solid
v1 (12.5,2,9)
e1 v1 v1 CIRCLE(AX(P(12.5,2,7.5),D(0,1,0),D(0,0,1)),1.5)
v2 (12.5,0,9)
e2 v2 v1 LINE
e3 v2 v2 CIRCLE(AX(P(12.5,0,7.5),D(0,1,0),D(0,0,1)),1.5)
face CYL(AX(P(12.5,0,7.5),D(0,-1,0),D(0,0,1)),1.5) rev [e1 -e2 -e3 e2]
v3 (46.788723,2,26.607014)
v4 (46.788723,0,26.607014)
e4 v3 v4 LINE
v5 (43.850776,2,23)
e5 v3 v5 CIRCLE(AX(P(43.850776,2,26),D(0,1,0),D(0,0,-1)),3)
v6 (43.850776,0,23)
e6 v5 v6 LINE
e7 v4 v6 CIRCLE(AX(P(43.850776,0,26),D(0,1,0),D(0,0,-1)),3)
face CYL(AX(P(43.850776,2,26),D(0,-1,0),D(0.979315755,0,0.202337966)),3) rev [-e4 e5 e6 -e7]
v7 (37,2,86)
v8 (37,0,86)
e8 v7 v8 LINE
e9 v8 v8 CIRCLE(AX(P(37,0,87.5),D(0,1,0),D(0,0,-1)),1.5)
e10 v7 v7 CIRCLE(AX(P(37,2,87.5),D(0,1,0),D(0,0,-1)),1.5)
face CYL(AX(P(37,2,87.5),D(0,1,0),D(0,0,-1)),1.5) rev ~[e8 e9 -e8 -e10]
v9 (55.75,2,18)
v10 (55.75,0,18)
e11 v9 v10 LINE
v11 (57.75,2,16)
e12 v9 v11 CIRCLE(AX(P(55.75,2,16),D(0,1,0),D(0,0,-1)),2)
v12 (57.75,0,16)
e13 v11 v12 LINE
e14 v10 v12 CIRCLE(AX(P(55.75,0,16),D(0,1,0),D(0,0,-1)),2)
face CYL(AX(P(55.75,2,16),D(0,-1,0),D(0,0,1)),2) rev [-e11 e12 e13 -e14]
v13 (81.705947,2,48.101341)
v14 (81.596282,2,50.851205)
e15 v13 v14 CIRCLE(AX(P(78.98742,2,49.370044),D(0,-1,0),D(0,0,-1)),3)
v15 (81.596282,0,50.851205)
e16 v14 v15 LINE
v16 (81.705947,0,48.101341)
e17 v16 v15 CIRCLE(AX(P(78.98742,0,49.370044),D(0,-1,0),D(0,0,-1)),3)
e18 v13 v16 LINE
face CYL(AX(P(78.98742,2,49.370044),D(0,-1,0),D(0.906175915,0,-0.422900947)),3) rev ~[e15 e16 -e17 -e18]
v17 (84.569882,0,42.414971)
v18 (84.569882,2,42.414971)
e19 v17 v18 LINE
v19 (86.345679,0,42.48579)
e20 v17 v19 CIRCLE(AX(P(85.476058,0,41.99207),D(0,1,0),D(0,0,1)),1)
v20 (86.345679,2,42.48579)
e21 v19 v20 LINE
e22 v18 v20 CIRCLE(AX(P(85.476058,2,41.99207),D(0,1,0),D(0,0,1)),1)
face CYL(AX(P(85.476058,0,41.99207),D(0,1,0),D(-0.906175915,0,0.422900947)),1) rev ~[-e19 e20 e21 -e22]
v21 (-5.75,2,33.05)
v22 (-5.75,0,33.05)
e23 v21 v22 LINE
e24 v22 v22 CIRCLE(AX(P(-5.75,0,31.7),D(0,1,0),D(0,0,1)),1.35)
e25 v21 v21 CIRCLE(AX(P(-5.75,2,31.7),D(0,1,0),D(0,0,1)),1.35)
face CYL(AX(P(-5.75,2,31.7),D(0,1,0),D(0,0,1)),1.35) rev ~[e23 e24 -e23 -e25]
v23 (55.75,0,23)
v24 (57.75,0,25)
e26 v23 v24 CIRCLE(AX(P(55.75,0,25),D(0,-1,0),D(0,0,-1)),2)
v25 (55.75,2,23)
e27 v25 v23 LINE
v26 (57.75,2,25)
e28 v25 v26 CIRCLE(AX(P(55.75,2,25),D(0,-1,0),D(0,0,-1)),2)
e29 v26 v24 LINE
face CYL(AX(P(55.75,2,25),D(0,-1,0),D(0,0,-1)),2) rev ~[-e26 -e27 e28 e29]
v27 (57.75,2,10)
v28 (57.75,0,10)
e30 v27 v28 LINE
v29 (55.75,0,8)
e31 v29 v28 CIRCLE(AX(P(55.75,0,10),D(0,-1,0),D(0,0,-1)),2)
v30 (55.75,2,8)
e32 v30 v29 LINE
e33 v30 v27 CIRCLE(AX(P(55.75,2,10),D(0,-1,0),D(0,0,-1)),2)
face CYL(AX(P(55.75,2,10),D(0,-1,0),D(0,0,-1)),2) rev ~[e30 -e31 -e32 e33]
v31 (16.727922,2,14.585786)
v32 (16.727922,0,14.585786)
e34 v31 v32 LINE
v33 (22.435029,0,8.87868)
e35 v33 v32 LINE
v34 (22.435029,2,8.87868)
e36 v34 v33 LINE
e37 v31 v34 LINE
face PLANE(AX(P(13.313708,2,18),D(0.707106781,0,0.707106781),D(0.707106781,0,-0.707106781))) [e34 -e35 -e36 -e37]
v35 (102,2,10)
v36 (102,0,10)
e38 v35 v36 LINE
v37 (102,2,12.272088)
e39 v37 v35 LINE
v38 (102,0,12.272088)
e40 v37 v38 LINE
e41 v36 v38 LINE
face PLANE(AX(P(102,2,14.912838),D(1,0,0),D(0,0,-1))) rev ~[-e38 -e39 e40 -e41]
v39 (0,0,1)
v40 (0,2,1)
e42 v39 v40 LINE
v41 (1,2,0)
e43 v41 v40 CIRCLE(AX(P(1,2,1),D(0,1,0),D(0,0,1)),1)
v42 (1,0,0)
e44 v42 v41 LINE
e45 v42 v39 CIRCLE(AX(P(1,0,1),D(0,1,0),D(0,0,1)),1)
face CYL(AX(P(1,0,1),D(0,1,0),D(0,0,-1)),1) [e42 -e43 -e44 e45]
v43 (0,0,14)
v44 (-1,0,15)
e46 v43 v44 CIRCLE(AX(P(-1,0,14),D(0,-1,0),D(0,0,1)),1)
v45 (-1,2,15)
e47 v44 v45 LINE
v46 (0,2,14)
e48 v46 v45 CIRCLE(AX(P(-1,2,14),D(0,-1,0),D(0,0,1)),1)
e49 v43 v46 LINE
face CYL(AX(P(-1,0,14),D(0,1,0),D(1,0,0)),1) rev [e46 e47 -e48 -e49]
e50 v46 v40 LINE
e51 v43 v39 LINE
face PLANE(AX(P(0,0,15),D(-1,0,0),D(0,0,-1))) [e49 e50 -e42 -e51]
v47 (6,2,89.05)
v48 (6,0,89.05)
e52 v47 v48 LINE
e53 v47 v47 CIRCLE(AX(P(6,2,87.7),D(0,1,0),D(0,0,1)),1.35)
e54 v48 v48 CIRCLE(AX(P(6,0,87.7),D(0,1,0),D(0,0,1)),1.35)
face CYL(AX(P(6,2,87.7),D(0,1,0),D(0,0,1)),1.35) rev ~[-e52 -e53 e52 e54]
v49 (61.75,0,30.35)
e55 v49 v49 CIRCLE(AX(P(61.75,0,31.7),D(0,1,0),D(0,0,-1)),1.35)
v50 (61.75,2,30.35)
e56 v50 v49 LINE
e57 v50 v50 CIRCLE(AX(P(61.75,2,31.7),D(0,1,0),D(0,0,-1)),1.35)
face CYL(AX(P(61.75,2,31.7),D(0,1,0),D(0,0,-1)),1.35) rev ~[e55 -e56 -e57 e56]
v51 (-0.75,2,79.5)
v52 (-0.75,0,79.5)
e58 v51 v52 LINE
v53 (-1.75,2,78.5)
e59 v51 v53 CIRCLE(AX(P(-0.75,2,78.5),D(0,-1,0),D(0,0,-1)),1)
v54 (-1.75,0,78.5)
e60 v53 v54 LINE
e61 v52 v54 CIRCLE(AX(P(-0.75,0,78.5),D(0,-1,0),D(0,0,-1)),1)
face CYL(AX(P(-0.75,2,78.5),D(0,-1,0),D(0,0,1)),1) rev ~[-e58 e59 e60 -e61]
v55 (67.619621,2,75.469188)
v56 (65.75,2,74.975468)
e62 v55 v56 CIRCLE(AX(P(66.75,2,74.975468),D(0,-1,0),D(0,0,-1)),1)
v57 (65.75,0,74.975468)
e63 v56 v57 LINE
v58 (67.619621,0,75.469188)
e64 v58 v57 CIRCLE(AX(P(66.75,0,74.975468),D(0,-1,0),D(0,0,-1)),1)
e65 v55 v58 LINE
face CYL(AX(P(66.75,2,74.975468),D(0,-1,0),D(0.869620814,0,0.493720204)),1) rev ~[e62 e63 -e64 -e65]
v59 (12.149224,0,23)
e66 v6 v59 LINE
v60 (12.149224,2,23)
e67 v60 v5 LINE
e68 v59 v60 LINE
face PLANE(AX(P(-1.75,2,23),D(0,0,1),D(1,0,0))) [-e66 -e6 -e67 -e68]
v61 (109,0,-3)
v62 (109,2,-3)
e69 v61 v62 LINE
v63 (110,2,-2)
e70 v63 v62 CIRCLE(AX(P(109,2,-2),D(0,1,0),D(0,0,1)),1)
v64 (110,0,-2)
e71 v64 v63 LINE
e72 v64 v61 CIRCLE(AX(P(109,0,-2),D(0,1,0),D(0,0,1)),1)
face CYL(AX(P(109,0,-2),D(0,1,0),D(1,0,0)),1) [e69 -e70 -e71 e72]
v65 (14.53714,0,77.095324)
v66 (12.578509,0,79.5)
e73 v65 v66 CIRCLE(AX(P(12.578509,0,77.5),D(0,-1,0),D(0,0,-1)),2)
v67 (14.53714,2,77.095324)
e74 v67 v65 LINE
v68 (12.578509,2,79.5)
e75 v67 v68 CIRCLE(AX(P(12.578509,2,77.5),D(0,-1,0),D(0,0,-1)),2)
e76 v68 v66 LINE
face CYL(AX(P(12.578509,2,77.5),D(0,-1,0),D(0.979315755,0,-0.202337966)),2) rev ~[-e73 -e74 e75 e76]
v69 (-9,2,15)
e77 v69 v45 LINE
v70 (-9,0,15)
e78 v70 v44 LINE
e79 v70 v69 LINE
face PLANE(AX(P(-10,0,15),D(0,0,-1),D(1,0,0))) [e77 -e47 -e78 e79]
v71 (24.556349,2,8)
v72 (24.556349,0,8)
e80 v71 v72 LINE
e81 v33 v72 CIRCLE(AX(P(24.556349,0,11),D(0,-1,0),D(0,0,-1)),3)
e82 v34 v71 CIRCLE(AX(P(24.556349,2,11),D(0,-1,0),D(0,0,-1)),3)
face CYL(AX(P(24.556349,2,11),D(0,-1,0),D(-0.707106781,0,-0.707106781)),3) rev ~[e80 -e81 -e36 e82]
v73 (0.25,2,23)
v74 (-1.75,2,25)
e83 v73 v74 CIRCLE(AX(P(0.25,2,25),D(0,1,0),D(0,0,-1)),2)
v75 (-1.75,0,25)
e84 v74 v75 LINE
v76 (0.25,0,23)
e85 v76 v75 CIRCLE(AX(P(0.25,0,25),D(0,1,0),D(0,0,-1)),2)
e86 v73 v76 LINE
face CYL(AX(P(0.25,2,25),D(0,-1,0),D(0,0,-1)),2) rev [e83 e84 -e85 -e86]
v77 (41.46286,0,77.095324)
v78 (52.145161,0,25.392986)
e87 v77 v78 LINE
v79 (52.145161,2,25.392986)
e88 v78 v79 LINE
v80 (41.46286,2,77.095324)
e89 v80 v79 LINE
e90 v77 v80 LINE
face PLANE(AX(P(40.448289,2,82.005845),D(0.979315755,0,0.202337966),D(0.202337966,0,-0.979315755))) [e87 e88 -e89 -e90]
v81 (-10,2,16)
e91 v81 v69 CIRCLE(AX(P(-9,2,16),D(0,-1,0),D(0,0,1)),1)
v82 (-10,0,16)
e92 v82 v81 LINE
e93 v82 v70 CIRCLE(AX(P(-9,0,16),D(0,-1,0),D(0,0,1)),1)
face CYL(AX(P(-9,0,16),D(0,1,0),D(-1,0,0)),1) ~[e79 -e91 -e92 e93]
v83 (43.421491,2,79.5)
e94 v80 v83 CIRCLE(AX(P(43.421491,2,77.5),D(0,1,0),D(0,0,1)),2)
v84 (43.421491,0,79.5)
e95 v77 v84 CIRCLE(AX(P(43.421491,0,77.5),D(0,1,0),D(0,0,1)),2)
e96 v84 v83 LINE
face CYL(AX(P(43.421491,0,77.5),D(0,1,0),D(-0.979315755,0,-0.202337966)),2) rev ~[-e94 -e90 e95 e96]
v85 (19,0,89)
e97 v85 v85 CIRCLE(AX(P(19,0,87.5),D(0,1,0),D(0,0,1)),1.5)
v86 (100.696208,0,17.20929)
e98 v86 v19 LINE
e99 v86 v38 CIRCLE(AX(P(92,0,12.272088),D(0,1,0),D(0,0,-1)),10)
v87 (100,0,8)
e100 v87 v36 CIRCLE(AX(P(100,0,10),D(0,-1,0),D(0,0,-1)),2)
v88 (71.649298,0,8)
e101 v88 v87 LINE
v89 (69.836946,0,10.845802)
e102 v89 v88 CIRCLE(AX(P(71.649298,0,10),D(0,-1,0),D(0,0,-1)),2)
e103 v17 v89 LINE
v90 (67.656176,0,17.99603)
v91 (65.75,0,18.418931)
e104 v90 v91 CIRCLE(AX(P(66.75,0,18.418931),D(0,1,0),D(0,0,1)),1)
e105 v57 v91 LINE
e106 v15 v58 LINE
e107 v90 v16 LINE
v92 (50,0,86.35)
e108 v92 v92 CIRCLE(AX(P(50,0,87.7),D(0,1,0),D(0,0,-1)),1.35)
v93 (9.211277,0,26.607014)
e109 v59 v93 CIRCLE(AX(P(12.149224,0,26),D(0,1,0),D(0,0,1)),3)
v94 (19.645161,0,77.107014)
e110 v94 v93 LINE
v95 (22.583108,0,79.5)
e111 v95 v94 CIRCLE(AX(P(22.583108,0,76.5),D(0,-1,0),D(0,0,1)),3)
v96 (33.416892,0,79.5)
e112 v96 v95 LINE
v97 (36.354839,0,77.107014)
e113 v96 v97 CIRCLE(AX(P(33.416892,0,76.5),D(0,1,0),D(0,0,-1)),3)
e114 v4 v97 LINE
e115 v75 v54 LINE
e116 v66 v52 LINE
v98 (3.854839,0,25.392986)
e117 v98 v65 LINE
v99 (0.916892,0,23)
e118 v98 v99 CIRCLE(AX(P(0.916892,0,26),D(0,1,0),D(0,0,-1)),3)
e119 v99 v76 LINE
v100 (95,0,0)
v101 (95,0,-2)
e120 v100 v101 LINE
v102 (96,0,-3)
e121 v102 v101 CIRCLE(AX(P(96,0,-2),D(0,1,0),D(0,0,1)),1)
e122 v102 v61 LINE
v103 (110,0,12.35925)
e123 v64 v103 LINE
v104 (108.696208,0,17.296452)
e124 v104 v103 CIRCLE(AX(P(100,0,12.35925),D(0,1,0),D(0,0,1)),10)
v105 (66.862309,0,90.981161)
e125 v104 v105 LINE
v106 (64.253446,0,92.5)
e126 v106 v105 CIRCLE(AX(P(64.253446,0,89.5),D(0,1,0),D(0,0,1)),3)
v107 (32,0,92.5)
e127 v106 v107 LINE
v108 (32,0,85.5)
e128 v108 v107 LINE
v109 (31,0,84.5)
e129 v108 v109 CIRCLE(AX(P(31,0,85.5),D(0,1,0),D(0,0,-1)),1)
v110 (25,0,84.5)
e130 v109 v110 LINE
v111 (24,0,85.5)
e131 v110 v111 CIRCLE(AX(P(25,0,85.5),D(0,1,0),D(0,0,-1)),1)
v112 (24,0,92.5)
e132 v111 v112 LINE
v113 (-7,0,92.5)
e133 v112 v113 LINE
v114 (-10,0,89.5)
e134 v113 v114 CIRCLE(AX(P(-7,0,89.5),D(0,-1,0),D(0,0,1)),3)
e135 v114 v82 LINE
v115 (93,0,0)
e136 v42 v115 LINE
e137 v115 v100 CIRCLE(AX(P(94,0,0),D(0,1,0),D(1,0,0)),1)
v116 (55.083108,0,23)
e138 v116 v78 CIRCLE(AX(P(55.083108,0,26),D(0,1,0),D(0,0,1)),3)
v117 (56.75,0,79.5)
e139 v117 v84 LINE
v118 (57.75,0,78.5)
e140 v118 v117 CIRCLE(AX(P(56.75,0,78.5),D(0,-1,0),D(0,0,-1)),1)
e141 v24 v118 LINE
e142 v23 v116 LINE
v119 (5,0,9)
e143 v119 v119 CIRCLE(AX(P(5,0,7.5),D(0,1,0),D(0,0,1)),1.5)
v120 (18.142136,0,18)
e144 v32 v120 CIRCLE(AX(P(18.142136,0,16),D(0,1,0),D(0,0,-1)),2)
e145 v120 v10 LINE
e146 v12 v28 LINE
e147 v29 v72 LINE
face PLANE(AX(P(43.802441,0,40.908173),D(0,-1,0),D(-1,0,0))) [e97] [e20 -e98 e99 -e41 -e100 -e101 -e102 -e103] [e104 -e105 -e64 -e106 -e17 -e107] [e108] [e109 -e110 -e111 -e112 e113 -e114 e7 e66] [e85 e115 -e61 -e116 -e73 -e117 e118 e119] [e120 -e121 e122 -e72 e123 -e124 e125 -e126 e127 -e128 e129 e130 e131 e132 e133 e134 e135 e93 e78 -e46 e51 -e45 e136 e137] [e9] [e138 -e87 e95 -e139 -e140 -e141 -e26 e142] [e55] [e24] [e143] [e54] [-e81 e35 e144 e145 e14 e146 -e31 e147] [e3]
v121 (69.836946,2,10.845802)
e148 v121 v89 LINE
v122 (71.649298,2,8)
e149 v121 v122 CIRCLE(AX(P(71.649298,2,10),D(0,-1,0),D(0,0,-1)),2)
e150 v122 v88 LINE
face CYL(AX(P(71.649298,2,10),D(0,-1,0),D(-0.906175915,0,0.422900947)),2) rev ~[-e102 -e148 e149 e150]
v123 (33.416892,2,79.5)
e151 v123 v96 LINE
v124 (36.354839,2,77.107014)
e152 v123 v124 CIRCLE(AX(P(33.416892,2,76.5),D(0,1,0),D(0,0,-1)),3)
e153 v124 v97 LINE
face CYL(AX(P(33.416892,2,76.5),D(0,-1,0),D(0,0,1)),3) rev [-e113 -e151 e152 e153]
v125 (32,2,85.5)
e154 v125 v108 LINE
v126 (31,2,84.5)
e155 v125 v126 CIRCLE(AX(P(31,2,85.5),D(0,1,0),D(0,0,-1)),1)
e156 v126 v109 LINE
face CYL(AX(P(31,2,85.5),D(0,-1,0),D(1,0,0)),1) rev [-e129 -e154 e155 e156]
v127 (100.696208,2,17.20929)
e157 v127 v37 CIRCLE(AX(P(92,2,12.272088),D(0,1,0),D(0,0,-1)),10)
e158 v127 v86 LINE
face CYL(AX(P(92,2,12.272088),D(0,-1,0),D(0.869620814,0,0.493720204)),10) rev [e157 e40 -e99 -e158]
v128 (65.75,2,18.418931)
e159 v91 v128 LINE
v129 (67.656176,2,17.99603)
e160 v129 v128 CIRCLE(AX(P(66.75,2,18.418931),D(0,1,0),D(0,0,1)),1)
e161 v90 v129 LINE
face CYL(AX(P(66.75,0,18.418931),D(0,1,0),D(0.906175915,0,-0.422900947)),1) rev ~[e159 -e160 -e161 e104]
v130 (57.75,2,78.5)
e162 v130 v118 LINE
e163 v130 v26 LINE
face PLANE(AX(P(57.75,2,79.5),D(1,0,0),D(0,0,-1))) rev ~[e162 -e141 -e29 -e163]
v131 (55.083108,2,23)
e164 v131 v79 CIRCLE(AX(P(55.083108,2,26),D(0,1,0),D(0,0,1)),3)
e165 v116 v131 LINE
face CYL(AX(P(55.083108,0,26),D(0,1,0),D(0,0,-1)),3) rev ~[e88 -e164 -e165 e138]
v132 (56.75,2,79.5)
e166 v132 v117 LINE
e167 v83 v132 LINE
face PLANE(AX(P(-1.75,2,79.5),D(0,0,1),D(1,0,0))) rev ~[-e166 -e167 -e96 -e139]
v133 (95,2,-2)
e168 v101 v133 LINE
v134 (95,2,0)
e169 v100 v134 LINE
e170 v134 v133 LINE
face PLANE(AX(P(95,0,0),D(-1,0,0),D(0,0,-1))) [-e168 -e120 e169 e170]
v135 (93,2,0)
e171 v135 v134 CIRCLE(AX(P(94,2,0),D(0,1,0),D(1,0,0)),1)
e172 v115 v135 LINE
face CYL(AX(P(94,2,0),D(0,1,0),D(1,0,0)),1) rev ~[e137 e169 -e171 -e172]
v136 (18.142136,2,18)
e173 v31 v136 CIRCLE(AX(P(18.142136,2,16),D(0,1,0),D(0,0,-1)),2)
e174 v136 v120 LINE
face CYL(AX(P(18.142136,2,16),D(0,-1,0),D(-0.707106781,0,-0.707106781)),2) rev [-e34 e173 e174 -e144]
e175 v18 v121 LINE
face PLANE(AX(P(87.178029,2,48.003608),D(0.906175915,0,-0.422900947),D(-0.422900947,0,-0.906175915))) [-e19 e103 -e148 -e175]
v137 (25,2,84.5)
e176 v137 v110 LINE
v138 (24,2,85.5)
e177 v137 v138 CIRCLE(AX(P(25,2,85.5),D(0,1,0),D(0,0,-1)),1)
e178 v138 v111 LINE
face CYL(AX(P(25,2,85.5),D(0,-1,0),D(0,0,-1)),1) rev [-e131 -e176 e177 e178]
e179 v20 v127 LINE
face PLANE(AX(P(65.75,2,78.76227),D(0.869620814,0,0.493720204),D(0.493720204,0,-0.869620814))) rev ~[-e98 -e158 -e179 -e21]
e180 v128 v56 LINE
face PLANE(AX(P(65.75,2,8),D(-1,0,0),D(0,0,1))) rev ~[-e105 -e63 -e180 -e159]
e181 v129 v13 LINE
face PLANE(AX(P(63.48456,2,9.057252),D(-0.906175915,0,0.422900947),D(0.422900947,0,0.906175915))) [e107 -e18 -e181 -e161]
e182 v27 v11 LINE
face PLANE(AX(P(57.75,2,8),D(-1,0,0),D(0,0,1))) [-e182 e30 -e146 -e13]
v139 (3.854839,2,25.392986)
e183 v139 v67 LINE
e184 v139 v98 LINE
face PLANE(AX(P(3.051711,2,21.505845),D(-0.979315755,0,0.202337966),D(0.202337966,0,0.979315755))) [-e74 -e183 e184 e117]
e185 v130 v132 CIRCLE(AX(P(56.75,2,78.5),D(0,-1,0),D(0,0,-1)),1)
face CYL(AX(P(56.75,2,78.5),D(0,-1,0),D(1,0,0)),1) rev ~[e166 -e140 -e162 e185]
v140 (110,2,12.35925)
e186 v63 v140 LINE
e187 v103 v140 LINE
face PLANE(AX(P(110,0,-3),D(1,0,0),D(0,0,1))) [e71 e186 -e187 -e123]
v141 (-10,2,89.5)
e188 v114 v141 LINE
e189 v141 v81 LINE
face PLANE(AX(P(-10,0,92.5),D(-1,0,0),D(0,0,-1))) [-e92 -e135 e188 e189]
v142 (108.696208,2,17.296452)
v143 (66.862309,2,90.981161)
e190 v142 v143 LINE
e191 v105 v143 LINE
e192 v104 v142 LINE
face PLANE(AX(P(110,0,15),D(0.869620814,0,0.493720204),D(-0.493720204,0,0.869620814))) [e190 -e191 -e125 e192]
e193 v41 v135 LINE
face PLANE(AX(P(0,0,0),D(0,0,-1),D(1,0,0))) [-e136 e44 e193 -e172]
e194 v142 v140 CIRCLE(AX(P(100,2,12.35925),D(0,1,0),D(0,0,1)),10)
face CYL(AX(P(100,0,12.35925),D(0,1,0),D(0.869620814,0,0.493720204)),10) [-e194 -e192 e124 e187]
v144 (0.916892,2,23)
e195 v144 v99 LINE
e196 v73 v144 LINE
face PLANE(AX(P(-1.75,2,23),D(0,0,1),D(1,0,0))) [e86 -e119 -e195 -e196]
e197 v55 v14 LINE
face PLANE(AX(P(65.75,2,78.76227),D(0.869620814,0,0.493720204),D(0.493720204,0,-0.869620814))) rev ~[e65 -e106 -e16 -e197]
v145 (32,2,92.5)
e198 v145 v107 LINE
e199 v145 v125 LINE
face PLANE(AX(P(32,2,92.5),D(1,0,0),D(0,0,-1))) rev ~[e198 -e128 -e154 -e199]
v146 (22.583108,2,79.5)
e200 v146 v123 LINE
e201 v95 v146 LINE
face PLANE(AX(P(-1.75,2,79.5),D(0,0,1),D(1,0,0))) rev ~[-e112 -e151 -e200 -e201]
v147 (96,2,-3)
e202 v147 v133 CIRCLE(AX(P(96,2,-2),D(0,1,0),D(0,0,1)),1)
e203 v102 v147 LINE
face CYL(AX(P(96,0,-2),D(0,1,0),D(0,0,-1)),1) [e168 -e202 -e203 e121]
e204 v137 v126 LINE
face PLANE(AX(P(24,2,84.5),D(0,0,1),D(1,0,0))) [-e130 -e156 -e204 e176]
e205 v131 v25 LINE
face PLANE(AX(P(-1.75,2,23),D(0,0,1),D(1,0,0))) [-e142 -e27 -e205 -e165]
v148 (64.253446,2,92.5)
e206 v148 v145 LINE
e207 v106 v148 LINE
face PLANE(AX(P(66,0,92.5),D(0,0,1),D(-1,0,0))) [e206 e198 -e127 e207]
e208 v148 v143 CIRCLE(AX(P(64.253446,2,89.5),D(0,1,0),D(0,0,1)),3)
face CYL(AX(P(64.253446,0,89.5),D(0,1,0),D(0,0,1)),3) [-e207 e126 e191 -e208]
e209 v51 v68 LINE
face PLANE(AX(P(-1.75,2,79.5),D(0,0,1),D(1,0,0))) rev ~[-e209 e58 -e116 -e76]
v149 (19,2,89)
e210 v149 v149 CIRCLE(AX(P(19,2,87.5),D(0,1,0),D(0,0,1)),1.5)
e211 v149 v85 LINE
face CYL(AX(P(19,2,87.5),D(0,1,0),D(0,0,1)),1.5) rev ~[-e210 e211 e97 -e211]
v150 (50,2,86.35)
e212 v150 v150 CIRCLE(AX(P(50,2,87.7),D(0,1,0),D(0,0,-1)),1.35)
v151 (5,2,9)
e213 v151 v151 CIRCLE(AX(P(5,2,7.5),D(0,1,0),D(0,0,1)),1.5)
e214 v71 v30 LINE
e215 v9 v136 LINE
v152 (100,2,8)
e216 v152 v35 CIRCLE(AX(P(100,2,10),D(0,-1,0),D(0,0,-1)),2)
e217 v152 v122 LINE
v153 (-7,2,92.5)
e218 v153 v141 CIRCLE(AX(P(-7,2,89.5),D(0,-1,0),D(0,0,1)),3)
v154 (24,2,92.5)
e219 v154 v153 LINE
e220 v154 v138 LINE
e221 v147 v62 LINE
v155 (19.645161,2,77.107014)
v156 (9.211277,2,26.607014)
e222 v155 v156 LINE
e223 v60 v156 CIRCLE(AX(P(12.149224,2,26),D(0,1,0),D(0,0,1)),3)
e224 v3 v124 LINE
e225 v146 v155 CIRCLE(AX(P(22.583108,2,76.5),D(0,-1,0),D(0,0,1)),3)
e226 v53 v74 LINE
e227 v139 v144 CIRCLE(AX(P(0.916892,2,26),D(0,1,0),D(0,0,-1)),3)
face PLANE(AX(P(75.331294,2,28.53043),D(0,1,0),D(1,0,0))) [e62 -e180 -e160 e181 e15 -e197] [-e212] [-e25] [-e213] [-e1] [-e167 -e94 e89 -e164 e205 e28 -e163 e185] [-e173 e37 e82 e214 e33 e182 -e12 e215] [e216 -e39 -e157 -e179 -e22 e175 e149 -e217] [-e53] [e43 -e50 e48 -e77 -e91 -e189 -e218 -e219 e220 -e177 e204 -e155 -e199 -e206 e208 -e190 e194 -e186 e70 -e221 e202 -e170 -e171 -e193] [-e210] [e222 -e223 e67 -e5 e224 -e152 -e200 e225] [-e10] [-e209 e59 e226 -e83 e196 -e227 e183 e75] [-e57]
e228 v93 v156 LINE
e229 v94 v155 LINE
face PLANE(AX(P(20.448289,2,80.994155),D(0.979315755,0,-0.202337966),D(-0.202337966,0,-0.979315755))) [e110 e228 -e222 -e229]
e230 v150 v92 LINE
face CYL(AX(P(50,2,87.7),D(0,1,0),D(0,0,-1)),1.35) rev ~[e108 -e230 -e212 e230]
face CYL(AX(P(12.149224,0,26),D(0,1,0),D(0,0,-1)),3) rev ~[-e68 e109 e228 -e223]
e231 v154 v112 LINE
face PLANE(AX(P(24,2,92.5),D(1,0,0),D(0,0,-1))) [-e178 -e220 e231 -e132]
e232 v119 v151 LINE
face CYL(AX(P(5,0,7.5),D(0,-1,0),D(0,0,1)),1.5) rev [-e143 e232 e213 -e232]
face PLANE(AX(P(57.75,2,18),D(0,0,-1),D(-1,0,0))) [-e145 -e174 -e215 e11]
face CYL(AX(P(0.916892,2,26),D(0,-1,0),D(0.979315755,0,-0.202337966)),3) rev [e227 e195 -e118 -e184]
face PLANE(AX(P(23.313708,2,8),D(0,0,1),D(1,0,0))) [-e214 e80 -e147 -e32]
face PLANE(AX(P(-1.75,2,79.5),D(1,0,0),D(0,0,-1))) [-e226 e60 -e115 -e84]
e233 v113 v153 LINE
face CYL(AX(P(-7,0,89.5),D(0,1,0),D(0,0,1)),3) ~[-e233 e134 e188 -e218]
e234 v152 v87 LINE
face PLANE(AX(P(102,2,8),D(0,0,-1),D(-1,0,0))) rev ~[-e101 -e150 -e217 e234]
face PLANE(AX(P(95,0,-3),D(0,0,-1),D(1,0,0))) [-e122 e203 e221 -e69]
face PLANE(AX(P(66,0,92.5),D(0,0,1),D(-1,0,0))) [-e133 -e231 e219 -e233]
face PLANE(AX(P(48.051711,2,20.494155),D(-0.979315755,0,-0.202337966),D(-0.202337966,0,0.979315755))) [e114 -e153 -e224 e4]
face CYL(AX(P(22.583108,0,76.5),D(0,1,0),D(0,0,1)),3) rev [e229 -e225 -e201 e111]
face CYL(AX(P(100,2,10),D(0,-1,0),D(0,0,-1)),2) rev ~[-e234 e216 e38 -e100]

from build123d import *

# Parameters (mm, degrees)
SKETCH_1_R          = 1.5
EXTRUDE_1_DEPTH     = 2
SKETCH_4_R          = 1.35
SKETCH_4_R_2        = 1.5
SKETCH_4_W          = 8
SKETCH_4_H          = 8
CUT_EXTRUDE_2_DEPTH = 144.736738519
SKETCH_5_R          = 1
CUT_EXTRUDE_3_DEPTH = 144.736738519
FILLET_4_R          = 1
SKETCH_2_W          = 59.5
SKETCH_2_H          = 56.5
CUT_EXTRUDE_1_DEPTH = 144.736738519
EXTRUDE_1_2_DEPTH   = 2
FILLET_1_R          = 1
FILLET_3_R          = 3
FILLET_2_R          = 2
FILLET_5_R          = 10


with BuildPart() as part:
    # 草图1 → Extrude 1 (new body)
    with BuildSketch(Plane(origin=(0, 0, 0), x_dir=(1, 0, 0), z_dir=(0, 1, 0))):
        Polygon((0, 0), (95, 0), (95, 3), (110, 3), (110, -15), (66, -92.5), (-10, -92.5), (-10, -15), (0, -15), align=None)
        with Locations(Location((5, -7.5, 0), (0, 0, 270))):
            Circle(SKETCH_1_R, mode=Mode.SUBTRACT)
        with Locations(Location((12.5, -7.5, 0), (0, 0, 270))):
            Circle(SKETCH_1_R, mode=Mode.SUBTRACT)
    extrude(amount=EXTRUDE_1_DEPTH)

    # 草图4 → 切除-拉伸2 (cut, through all)
    with BuildSketch(Plane(origin=(0, 2, 0), x_dir=(1, 0, 0), z_dir=(0, 1, 0))):
        with Locations(Location((-5.75, -31.7, 0), (0, 0, 270))):
            Circle(SKETCH_4_R)
        with Locations(Location((6, -87.7, 0), (0, 0, 270))):
            Circle(SKETCH_4_R)
        with Locations(Location((50, -87.7, 0), (0, 0, 90))):
            Circle(SKETCH_4_R)
        with Locations(Location((61.75, -31.7, 0), (0, 0, 90))):
            Circle(SKETCH_4_R)
        with Locations(Location((19, -87.5, 0), (0, 0, 270))):
            Circle(SKETCH_4_R_2)
        with Locations(Location((37, -87.5, 0), (0, 0, 90))):
            Circle(SKETCH_4_R_2)
        with Locations((28, -88.5)):
            Rectangle(SKETCH_4_W, SKETCH_4_H)
    extrude(amount=-CUT_EXTRUDE_2_DEPTH, mode=Mode.SUBTRACT)

    # 草图5 → 切除-拉伸3 (cut, through all)
    with BuildSketch(Plane(origin=(0, 2, 0), x_dir=(1, 0, 0), z_dir=(0, 1, 0))):
        with Locations((94, 0)):
            Circle(SKETCH_5_R)
    extrude(amount=-CUT_EXTRUDE_3_DEPTH, mode=Mode.SUBTRACT)

    # 圆角4
    fillet_4_edges = [part.edges().sort_by_distance(p)[0] for p in [
        (95, 1, -3),
        (110, 1, -3),
    ]]
    fillet(fillet_4_edges, radius=FILLET_4_R)

    # 草图2 → 切除-拉伸1 (cut, through all)
    with BuildSketch(Plane(origin=(0, 2, 0), x_dir=(1, 0, 0), z_dir=(0, 1, 0))):
        with Locations((28, -51.25)):
            Rectangle(SKETCH_2_W, SKETCH_2_H)
        Polygon((65.75, -78.762270127), (102, -14.912838308), (102, -8), (65.75, -8), align=None)
        Polygon((23.313708499, -8), (57.75, -8), (57.75, -18), (13.313708499, -18), align=None)
    extrude(amount=-CUT_EXTRUDE_1_DEPTH, mode=Mode.SUBTRACT)

    # 草图3 → Extrude 1 2 (add)
    with BuildSketch(Plane(origin=(0, 2, 0), x_dir=(1, 0, 0), z_dir=(0, 1, 0))):
        Polygon((87.178028776, -48.003607703), (68.015439788, -6.942747632), (63.484560212, -9.057252368), (82.647149201, -50.118112438), align=None)
        Polygon((3.051710613, -21.505844915), (15.551710613, -82.005844915), (20.448289387, -80.994155085), (7.948289387, -20.494155085), align=None)
        Polygon((48.051710613, -20.494155085), (35.551710613, -80.994155085), (40.448289387, -82.005844915), (52.948289387, -21.505844915), align=None)
    extrude(amount=-EXTRUDE_1_2_DEPTH)

    # 圆角1
    fillet_1_edges = [part.edges().sort_by_distance(p)[0] for p in [
        (65.75, 1, 78.762270127),
        (-1.75, 1, 79.5),
        (57.75, 1, 79.5),
        (0, 1, 0),
        (65.75, 1, 13.911549779),
        (-10, 1, 15),
        (0, 1, 15),
        (85.389180361, 1, 44.17053199),
        (24, 1, 84.5),
        (32, 1, 84.5),
    ]]
    fillet(fillet_1_edges, radius=FILLET_1_R)

    # 圆角3
    fillet_3_edges = [part.edges().sort_by_distance(p)[0] for p in [
        (23.313708499, 1, 8),
        (66, 1, 92.5),
        (-10, 1, 92.5),
        (82.360819639, 1, 49.504576445),
        (20.139579659, 1, 79.5),
        (3.360420341, 1, 23),
        (8.46602594, 1, 23),
        (47.53397406, 1, 23),
        (52.639579659, 1, 23),
        (35.860420341, 1, 79.5),
    ]]
    fillet(fillet_3_edges, radius=FILLET_3_R)

    # 圆角2
    fillet_2_edges = [part.edges().sort_by_distance(p)[0] for p in [
        (102, 1, 8),
        (-1.75, 1, 23),
        (57.75, 1, 23),
        (13.313708499, 1, 18),
        (57.75, 1, 8),
        (57.75, 1, 18),
        (68.508846222, 1, 8),
        (15.03397406, 1, 79.5),
        (40.96602594, 1, 79.5),
    ]]
    fillet(fillet_2_edges, radius=FILLET_2_R)

    # 圆角5
    fillet_5_edges = [part.edges().sort_by_distance(p)[0] for p in [
        (102, 1, 14.912838308),
        (110, 1, 15),
    ]]
    fillet(fillet_5_edges, radius=FILLET_5_R)


solid = part.part
